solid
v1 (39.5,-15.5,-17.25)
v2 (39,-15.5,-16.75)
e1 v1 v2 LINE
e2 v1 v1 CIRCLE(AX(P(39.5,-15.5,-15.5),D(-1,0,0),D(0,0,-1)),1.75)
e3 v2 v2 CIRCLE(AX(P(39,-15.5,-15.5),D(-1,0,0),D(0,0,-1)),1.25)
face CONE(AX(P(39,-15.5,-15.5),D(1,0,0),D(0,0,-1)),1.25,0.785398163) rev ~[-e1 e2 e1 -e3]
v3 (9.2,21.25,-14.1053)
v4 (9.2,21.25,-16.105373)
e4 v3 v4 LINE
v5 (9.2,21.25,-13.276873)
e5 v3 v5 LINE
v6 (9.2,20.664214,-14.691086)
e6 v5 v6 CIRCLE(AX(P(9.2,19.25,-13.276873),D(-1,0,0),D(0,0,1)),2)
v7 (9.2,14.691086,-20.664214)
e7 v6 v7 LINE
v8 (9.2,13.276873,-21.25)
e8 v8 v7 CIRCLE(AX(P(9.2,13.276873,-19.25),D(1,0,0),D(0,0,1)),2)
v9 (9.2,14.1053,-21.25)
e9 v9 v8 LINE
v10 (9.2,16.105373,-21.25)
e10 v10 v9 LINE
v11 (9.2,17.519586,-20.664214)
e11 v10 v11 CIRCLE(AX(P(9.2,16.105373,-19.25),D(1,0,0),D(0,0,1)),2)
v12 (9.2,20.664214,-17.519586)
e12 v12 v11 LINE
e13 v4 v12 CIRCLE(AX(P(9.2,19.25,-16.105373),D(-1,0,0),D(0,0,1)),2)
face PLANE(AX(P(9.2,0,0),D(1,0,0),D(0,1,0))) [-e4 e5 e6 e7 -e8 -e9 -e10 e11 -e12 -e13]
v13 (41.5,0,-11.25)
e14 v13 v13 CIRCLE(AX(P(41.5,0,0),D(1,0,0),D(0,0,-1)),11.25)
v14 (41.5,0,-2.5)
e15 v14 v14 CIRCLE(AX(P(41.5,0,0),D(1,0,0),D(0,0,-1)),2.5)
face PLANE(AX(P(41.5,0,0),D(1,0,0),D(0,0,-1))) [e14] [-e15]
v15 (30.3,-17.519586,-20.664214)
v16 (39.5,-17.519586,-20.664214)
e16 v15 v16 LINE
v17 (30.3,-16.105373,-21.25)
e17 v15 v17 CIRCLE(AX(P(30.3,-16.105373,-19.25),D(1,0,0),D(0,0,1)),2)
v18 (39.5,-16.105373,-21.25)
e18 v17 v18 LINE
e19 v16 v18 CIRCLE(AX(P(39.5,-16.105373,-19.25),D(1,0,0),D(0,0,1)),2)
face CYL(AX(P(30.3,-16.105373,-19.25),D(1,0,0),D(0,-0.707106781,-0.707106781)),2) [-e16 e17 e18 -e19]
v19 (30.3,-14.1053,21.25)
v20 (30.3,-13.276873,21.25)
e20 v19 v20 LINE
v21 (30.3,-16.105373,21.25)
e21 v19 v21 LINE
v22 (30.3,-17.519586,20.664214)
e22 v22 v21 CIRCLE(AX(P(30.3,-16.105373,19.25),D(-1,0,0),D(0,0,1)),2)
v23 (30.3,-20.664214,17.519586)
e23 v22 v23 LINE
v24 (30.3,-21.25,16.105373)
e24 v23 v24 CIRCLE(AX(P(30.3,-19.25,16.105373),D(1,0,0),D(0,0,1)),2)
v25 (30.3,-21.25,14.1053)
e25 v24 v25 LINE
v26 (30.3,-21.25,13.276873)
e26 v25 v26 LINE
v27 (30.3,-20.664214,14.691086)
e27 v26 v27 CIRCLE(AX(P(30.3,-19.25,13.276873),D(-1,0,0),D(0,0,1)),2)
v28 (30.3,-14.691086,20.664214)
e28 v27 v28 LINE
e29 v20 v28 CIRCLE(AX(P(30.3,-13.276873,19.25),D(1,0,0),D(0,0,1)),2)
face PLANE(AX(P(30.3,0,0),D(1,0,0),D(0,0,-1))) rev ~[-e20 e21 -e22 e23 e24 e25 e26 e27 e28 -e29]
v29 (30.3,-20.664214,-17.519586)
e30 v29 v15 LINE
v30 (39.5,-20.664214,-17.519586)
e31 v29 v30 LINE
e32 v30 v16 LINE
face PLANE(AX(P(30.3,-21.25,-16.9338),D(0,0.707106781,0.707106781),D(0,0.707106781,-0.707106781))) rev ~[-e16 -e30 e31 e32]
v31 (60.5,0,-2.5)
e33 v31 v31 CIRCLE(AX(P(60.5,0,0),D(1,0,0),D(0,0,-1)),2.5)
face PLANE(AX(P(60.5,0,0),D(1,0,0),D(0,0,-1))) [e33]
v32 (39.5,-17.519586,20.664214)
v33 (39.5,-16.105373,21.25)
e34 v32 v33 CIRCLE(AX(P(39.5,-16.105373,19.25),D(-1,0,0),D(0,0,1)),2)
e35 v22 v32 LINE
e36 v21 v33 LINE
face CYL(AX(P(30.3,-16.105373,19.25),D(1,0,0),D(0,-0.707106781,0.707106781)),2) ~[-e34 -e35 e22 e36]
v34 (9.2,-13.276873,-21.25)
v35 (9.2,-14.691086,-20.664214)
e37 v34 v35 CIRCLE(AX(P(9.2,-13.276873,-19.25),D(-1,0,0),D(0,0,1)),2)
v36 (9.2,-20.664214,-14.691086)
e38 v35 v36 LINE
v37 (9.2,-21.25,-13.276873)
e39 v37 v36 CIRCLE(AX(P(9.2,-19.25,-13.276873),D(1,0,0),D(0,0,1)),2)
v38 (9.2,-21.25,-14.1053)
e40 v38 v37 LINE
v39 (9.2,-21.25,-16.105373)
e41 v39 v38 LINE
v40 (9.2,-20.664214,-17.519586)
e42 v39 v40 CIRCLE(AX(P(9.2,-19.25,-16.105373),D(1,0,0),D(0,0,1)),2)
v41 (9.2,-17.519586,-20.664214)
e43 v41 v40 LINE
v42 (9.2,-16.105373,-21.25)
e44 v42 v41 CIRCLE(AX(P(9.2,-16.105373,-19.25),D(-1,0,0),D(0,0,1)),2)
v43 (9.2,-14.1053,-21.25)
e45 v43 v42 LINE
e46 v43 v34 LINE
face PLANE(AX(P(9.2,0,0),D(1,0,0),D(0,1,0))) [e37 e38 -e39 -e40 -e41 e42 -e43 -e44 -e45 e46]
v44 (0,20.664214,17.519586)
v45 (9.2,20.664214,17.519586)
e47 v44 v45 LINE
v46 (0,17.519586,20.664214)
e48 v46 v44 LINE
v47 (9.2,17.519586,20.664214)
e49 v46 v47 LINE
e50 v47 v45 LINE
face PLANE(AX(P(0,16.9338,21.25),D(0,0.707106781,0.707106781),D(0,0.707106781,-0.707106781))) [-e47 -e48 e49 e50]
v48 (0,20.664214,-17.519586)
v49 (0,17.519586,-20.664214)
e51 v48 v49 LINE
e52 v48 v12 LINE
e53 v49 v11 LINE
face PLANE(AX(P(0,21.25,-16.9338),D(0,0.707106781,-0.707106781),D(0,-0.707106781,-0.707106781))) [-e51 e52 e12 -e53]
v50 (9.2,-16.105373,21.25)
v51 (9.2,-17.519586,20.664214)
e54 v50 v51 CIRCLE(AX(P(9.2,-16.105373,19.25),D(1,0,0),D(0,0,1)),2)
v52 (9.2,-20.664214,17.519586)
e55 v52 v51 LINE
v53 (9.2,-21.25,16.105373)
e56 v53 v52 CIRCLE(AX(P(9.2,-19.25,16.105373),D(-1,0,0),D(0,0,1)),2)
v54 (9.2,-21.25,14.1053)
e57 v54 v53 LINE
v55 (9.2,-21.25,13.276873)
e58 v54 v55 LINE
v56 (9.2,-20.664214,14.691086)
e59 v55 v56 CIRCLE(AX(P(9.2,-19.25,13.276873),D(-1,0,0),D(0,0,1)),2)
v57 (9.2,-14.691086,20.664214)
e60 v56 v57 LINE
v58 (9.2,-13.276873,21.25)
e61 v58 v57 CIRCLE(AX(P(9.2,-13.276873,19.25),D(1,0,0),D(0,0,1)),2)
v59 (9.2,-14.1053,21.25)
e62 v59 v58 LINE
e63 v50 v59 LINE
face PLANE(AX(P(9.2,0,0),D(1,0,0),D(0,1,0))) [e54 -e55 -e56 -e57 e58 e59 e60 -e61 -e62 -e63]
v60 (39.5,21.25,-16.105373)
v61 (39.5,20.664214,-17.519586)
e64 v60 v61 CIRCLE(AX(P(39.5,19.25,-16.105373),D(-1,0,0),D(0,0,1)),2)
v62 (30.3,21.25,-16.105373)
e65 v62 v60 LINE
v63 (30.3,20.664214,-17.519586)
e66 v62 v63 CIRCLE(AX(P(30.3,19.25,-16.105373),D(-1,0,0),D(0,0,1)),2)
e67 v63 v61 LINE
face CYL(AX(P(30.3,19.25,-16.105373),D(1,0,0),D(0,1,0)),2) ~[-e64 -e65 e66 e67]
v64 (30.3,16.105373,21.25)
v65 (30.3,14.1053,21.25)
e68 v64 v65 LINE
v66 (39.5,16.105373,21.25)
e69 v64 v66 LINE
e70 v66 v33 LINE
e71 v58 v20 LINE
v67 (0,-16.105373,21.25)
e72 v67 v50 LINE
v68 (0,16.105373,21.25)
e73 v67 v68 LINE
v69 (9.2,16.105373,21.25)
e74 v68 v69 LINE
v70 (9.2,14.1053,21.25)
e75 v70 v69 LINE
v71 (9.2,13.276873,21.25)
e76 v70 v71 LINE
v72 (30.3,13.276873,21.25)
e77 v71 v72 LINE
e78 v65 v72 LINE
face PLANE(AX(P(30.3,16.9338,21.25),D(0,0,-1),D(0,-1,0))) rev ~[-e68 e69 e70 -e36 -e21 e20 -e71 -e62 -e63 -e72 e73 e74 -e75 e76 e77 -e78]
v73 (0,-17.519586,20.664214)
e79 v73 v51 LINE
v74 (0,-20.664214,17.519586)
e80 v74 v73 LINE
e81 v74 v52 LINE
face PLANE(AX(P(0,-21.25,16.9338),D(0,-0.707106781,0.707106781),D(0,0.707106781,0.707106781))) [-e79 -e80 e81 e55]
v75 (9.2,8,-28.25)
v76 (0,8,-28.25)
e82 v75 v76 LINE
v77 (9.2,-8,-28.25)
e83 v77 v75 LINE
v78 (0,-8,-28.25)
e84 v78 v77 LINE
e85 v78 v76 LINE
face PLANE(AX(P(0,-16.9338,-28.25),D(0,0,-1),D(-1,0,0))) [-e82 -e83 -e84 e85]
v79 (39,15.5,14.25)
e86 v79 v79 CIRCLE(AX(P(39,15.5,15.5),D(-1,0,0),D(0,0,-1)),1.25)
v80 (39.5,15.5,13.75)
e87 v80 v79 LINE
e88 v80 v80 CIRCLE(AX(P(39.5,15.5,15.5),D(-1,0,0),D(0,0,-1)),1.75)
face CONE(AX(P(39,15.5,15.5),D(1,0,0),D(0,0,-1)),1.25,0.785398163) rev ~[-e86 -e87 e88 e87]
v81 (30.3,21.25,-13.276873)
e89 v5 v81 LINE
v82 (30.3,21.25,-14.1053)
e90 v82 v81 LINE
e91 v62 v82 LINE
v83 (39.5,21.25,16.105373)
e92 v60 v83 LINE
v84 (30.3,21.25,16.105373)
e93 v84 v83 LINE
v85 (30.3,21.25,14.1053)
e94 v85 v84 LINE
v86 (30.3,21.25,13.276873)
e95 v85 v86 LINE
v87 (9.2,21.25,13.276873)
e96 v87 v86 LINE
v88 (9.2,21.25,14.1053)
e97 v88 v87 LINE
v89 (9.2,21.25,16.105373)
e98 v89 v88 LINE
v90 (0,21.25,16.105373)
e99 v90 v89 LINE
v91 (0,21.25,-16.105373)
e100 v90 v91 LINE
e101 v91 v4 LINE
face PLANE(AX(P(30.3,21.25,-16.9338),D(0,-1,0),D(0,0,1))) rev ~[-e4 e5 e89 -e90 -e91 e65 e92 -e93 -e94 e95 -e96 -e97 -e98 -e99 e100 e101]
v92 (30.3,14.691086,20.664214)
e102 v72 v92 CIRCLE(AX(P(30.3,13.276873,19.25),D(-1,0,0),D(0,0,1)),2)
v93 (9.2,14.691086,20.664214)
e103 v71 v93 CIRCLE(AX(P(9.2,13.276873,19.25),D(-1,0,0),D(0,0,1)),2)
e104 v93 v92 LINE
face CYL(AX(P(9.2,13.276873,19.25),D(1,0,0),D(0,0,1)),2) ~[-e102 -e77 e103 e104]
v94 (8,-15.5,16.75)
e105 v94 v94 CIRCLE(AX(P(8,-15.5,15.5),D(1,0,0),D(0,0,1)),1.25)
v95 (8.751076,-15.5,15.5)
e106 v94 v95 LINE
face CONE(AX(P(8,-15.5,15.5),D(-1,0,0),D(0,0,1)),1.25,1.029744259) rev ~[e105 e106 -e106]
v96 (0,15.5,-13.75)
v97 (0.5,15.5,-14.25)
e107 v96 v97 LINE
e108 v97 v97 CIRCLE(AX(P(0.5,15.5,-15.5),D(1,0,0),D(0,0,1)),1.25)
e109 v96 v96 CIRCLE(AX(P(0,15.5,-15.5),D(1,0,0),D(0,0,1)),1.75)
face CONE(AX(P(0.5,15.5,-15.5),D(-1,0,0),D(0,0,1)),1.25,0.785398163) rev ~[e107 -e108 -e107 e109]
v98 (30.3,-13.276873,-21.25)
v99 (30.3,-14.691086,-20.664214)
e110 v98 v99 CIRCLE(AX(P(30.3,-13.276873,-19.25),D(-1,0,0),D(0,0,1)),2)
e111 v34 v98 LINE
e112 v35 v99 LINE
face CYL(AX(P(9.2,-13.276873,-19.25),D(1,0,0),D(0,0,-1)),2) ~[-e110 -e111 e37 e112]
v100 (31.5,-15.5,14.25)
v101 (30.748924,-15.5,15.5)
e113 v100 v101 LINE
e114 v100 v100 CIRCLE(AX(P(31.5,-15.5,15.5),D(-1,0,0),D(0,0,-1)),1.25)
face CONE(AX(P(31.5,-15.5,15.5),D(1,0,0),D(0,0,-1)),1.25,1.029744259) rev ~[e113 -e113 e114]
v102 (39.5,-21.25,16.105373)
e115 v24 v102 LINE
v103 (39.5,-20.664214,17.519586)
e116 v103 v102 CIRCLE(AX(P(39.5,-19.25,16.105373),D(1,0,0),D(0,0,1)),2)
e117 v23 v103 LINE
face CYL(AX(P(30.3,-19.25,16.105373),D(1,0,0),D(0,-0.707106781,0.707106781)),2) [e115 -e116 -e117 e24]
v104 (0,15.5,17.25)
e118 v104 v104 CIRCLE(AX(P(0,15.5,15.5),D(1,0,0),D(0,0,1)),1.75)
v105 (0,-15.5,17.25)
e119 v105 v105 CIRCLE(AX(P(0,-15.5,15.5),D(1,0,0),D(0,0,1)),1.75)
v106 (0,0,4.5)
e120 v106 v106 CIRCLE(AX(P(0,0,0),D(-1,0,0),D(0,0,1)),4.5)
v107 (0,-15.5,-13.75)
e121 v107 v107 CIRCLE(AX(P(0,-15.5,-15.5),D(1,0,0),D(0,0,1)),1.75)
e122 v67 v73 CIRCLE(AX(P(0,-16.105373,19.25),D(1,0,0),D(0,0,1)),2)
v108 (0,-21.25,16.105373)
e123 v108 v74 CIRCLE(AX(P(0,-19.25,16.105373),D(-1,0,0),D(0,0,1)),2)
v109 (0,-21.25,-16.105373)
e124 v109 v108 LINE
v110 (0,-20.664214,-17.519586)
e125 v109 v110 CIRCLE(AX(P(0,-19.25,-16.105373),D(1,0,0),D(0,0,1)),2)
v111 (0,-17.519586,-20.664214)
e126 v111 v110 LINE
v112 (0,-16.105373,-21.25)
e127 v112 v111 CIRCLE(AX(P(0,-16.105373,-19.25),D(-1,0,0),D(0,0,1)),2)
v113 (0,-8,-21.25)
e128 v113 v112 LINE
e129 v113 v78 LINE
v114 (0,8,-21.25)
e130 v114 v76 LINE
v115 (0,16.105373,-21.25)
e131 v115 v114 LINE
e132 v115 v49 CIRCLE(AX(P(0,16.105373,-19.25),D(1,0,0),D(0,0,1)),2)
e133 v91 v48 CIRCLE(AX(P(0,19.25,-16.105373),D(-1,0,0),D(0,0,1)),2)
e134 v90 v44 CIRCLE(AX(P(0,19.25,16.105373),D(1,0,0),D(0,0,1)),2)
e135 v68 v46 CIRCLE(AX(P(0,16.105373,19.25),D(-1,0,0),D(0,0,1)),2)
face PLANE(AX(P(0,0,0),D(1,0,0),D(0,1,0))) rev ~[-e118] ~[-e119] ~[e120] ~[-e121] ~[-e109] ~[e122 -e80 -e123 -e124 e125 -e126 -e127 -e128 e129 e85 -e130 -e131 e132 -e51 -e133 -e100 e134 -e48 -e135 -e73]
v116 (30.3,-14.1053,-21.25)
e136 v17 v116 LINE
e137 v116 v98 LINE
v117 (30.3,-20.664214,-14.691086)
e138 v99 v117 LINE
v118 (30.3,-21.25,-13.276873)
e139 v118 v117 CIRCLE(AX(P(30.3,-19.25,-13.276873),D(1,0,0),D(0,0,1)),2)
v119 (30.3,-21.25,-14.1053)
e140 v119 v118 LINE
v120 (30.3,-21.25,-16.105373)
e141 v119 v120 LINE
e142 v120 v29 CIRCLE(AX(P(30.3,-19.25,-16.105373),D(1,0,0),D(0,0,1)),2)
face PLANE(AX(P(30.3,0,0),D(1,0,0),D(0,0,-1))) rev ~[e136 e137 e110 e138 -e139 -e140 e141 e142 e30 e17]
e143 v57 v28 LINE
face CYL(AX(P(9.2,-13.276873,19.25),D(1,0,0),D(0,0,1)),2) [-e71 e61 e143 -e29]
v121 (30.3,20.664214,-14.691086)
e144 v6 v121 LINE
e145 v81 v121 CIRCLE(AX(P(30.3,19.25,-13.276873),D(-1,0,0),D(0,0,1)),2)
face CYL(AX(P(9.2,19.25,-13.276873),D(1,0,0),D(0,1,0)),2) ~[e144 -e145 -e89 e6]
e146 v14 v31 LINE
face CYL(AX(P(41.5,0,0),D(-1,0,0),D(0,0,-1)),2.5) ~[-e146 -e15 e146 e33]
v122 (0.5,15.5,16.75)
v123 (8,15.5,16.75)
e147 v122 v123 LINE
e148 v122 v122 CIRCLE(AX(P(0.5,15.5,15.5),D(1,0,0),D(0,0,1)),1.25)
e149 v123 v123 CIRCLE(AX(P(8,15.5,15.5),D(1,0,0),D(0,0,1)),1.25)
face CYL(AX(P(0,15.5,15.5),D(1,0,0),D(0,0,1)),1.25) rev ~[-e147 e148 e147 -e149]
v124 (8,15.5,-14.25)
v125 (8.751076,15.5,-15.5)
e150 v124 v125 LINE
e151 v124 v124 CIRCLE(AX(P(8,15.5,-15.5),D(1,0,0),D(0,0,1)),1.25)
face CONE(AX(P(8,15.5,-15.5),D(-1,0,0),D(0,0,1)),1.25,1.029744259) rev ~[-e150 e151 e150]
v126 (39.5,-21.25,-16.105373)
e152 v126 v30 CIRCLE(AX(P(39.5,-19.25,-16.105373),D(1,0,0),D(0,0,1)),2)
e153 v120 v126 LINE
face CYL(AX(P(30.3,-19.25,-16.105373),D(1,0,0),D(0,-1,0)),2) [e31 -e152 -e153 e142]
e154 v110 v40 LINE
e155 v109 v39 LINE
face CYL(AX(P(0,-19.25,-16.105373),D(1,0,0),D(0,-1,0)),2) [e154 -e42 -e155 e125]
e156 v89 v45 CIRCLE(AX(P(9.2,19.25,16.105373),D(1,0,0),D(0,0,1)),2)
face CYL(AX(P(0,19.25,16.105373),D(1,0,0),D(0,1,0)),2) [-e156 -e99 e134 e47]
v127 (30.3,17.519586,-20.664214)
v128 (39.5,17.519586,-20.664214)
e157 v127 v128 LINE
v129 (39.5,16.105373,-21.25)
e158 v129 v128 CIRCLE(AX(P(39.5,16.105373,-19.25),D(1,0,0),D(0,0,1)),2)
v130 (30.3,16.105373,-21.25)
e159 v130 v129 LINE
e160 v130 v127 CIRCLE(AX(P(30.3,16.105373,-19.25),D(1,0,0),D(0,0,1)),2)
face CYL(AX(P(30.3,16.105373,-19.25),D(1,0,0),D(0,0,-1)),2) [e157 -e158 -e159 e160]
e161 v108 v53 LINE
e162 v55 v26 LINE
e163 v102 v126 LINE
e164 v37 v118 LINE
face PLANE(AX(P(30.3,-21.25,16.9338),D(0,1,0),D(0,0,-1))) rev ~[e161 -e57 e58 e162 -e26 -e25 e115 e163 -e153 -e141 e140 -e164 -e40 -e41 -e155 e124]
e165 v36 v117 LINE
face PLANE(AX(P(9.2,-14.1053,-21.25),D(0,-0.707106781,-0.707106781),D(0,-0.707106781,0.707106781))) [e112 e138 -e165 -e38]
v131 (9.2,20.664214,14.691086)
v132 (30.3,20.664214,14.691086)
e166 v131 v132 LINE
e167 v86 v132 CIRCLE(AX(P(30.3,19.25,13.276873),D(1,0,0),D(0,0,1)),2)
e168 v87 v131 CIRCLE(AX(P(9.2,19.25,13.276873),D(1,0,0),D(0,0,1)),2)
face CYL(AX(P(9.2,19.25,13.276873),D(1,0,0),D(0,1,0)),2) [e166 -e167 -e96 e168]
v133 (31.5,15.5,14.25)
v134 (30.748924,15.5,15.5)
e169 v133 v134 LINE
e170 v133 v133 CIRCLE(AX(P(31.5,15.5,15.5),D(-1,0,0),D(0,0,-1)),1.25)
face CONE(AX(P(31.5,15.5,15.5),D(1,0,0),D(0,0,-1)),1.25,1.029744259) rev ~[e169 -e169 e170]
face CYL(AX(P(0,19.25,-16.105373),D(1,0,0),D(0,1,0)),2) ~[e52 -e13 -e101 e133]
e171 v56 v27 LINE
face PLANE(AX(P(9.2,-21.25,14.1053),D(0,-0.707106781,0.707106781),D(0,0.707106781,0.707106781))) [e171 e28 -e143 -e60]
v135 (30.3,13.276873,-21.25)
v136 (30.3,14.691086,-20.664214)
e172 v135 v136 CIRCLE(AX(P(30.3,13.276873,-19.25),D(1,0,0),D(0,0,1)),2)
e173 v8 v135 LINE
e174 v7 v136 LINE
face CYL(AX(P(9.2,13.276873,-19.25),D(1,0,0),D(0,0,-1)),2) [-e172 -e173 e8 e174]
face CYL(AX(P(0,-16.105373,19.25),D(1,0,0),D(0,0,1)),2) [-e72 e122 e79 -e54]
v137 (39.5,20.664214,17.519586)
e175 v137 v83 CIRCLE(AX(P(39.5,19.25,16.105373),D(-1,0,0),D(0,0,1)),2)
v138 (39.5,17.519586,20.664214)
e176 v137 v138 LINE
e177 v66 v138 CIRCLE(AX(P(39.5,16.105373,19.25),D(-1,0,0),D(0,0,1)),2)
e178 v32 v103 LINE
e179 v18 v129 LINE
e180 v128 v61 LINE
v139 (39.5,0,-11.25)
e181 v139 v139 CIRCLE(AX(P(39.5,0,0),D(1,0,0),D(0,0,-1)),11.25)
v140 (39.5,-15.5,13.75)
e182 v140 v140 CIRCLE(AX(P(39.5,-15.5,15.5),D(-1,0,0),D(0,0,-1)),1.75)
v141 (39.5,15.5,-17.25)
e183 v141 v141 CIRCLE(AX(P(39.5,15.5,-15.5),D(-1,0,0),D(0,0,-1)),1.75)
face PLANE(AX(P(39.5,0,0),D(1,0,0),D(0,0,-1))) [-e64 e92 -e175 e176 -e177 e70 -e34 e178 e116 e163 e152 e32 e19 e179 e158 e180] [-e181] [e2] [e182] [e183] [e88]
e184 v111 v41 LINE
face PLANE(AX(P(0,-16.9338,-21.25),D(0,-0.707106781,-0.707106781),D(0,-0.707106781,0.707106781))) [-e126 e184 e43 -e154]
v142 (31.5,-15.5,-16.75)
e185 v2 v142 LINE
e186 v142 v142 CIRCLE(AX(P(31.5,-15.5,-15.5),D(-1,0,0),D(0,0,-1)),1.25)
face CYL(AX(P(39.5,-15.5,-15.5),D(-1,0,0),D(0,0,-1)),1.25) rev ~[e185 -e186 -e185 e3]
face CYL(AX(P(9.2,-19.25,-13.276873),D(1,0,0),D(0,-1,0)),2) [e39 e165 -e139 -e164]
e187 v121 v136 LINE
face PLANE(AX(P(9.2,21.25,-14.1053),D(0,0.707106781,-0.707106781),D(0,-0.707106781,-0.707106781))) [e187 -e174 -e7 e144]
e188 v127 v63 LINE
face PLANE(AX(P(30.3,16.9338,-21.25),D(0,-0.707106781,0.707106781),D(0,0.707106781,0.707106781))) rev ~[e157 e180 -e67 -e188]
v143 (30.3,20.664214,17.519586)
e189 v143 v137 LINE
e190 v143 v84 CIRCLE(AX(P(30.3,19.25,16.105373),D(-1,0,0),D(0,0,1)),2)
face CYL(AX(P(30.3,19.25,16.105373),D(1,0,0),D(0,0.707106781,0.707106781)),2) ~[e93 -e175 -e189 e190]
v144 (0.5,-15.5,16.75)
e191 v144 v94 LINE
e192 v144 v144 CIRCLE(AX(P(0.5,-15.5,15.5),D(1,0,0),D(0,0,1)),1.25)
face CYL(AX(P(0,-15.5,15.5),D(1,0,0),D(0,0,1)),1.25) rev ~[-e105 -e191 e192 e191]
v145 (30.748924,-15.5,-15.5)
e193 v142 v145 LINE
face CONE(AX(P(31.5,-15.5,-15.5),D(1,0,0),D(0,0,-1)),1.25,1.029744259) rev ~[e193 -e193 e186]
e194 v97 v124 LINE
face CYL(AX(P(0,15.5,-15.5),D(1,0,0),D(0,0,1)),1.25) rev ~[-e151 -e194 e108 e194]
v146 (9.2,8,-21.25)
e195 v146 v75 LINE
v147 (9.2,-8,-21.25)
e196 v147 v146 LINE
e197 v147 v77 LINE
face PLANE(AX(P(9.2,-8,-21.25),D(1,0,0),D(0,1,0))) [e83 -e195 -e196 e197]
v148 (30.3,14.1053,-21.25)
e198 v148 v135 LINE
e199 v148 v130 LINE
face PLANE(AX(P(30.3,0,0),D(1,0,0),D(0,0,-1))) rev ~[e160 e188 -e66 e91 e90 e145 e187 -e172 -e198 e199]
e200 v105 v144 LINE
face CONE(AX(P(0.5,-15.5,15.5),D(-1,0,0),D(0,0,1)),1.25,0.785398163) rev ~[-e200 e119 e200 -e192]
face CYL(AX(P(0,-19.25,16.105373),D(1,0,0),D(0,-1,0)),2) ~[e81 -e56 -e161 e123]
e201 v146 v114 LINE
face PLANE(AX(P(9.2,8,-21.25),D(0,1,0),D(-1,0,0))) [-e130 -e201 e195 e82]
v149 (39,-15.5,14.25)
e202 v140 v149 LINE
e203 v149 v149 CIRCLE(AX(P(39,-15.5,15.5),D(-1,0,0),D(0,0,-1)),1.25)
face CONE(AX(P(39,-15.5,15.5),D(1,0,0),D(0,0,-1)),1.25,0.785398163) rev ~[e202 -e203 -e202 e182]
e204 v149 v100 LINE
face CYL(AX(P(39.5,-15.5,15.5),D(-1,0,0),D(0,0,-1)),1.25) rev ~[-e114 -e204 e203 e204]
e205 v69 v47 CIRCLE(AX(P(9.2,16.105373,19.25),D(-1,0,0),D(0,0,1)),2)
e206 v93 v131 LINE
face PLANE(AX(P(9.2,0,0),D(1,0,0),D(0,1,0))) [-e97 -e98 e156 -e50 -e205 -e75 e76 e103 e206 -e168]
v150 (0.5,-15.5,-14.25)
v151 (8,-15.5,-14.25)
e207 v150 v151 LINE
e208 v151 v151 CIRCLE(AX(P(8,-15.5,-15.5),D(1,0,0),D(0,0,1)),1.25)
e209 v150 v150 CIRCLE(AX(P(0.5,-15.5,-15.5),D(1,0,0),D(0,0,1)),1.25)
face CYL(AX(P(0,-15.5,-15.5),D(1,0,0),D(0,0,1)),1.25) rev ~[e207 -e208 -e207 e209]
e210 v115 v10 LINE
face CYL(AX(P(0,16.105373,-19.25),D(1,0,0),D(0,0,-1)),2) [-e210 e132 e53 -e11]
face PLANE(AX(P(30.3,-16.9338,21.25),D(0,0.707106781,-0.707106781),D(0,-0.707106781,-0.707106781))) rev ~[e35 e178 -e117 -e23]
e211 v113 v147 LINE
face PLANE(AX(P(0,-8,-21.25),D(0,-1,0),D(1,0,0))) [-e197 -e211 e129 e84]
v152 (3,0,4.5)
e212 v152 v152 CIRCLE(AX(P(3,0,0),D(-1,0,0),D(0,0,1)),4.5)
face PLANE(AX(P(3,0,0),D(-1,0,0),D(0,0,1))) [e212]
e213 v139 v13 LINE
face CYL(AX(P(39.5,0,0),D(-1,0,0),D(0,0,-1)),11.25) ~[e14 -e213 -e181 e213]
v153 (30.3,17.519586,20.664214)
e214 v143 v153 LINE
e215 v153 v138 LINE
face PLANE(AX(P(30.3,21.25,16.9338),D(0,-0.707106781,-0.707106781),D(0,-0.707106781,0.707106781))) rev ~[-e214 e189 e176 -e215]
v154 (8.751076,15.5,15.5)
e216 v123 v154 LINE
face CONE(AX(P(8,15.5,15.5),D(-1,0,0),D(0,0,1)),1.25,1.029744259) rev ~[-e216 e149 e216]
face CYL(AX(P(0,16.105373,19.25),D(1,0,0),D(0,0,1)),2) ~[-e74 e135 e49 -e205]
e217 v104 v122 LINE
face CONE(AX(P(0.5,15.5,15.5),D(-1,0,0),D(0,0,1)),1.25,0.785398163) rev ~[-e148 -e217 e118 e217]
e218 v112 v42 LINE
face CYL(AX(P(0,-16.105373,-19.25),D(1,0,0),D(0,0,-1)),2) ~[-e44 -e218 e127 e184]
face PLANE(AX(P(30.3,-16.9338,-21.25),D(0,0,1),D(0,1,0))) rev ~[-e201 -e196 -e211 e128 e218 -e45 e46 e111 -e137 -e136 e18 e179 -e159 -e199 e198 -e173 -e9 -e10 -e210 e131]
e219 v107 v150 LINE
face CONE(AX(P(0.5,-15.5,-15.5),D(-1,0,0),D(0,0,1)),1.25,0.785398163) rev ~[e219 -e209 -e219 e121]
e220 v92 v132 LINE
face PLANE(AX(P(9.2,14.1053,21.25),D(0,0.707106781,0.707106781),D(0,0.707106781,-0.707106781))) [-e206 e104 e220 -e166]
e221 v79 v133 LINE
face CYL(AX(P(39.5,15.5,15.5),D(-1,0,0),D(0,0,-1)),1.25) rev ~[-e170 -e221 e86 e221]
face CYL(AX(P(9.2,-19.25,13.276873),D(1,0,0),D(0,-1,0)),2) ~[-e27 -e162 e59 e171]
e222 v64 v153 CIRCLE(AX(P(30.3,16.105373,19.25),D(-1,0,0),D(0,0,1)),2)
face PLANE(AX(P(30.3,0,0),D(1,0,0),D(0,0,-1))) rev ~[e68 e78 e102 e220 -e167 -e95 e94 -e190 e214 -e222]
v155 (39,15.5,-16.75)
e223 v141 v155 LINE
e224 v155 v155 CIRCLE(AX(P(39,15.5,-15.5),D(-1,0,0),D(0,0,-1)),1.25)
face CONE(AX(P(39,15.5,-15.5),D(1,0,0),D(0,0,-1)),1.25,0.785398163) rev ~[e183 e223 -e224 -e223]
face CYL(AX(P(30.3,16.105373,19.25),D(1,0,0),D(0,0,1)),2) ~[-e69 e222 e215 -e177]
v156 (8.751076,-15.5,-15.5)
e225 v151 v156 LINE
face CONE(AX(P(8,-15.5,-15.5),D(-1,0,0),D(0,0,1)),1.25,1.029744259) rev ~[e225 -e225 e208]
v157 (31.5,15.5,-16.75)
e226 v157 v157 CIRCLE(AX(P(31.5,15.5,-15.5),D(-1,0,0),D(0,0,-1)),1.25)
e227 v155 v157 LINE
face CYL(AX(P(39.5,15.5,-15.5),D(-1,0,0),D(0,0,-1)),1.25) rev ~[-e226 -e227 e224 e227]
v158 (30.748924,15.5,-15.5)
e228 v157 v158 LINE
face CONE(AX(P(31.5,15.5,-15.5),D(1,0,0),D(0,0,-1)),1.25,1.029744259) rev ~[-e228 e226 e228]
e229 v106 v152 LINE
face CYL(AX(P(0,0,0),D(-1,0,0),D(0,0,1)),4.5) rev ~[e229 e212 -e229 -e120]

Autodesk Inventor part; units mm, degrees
ref_plane "YZ Plane" through (0, 0, 0) normal (1, 0, 0) x (0, 1, 0)
ref_plane "XZ Plane" through (0, 0, 0) normal (0, 1, 0) x (-1, 0, 0)
ref_plane "XY Plane" through (0, 0, 0) normal (0, 0, 1) x (1, 0, 0)
sketch "スケッチ1" plane through (0, 0, 0) normal (1, 0, 0) x (0, 1, 0)
  line L0 (-21.25, 21.25) -> (21.25, 21.25)
  line L1 (21.25, 21.25) -> (21.25, -21.25)
  line L2 (21.25, -21.25) -> (-21.25, -21.25)
  line L3 (-21.25, -21.25) -> (-21.25, 21.25)
  line L4 (-21.25, 21.25) -> (21.25, -21.25) construction
  line L5 (21.25, 21.25) -> (-21.25, -21.25) construction
  line L6 (16.9338, 21.25) -> (21.25, 16.9338)
  line L7 (21.25, -16.9338) -> (16.9338, -21.25)
  line L8 (-16.9338, -21.25) -> (-21.25, -16.9338)
  line L9 (-21.25, 16.9338) -> (-15.808, 22.3758)
  point P0 (0, 0)
  point P1 (0, 0)
  point P2 (0, 0)
  point P3 (-16.9338, 21.25)
  dimension "d0" = 42.5
  dimension "d1" = 42.5
  dimension "d2" = 27
  dimension "d3" = 27
  dimension "d4" = 27
  dimension "d5" = 27
extrude "押し出し1" add sketch "スケッチ1" along normal blind 9.2 contours L6 L1 L7 L2 L8 L3 L9 L0
sketch "スケッチ2" plane through (9.2, 0, 0) normal (1, 0, 0) x (0, 0, -1)
  line L0 (16.9338, 21.25) -> (-16.9338, 21.25) projected
  line L1 (-21.25, 16.9338) -> (-21.25, -16.9338) projected
  line L2 (-16.9338, -21.25) -> (16.9338, -21.25) projected
  line L3 (21.25, -16.9338) -> (21.25, 16.9338) projected
  line L4 (-21.25, 14.1053) -> (-14.1053, 21.25)
  line L5 (14.1053, 21.25) -> (21.25, 14.1053)
  line L6 (21.25, -14.1053) -> (14.1053, -21.25)
  line L7 (-14.1053, -21.25) -> (-21.25, -14.1053)
  point P0 (0, 0)
  dimension "d8" = 25
  dimension "d9" = 25
  dimension "d10" = 25
  dimension "d11" = 25
  dimension "d12" = 135
extrude "押し出し2" add sketch "スケッチ2" along normal blind 21.1
sketch "スケッチ3" plane through (30.3, 0, 0) normal (1, 0, 0) x (0, 0, -1)
  line L0 (-16.9338, -21.25) -> (16.9338, -21.25) projected
  line L1 (-21.25, -16.9338) -> (-16.9338, -21.25) projected
  line L2 (-21.25, 16.9338) -> (-21.25, -16.9338) projected
  line L3 (-16.9338, 21.25) -> (-21.25, 16.9338) projected
  line L4 (16.9338, 21.25) -> (-16.9338, 21.25) projected
  line L5 (21.25, 16.9338) -> (16.9338, 21.25) projected
  line L6 (21.25, -16.9338) -> (21.25, 16.9338) projected
  line L7 (16.9338, -21.25) -> (21.25, -16.9338) projected
  point P0 (0, 0)
extrude "押し出し3" add sketch "スケッチ3" along normal blind 9.2
sketch "スケッチ4" plane through (0, 0, 0) normal (-1, 0, 0) x (0, 0, 1)
  line L0 (15.5, 15.5) -> (-15.5, 15.5) construction
  line L1 (-15.5, 15.5) -> (-15.5, -15.5) construction
  line L2 (-15.5, -15.5) -> (15.5, -15.5) construction
  line L3 (15.5, -15.5) -> (15.5, 15.5) construction
  line L4 (15.5, 15.5) -> (-15.5, -15.5) construction
  line L5 (-15.5, 15.5) -> (15.5, -15.5) construction
  point P0 (0, 0)
  dimension "d17" = 31
  dimension "d18" = 31
hole "穴1" at (0, 15.5, -15.5) at (0, -15.5, -15.5) at (0, -15.5, 15.5) at (0, 15.5, 15.5) direction (1, 0, 0) diameter 2.5 depth 8 tip angle 118
chamfer "面取り1" distance 0.5 angle 45 4 edges at (0, -15.5, -16.75) (0, 15.5, -16.75) (0, -15.5, 14.25) (0, 15.5, 14.25)
thread "ねじ1" size "M3x0.5" class "6H" standard "ISO Metric profile" full length
thread "ねじ3" size "M3x0.5" class "6H" standard "ISO Metric profile" full length
thread "ねじ4" size "M3x0.5" class "6H" standard "ISO Metric profile" full length
thread "ねじ5" size "M3x0.5" class "6H" standard "ISO Metric profile" full length
sketch "スケッチ5" plane through (39.5, 0, 0) normal (1, 0, 0) x (0, 0, -1)
  line L0 (-15.5, -15.5) -> (15.5, -15.5) construction
  line L1 (15.5, -15.5) -> (15.5, 15.5) construction
  line L2 (15.5, 15.5) -> (-15.5, 15.5) construction
  line L3 (-15.5, 15.5) -> (-15.5, -15.5) construction
  line L4 (-15.5, -15.5) -> (15.5, 15.5) construction
  line L5 (15.5, -15.5) -> (-15.5, 15.5) construction
  point P0 (0, 0)
  dimension "d31" = 31
  dimension "d32" = 31
hole "穴2" at (39.5, -15.5, 15.5) at (39.5, -15.5, -15.5) at (39.5, 15.5, -15.5) at (39.5, 15.5, 15.5) direction (-1, 0, 0) diameter 2.5 depth 8 tip angle 118
chamfer "面取り2" distance 0.5 angle 45 4 edges at (39.5, -15.5, 16.75) (39.5, -15.5, -14.25) (39.5, 15.5, 16.75) (39.5, 15.5, -14.25)
thread "ねじ2" size "M3x0.5" class "6H" standard "ISO Metric profile" full length
thread "ねじ6" size "M3x0.5" class "6H" standard "ISO Metric profile" full length
thread "ねじ7" size "M2.6x0.45" class "6H" standard "ISO Metric profile" full length
thread "ねじ8" size "M3x0.5" class "6H" standard "ISO Metric profile" full length
sketch "スケッチ6" plane through (39.5, 0, 0) normal (1, 0, 0) x (0, 0, -1)
  circle A0 centre (0, 0) radius 11.25
  dimension "d57" = 22.5
extrude "押し出し4" add sketch "スケッチ6" along normal blind 2
sketch "スケッチ7" plane through (41.5, 0, 0) normal (1, 0, 0) x (0, 0, -1)
  circle A0 centre (0, 0) radius 2.5
  dimension "d60" = 5
extrude "押し出し5" add sketch "スケッチ7" along normal blind 19
sketch "スケッチ8" plane through (0, 0, 0) normal (-1, 0, 0) x (0, 0, 1)
  circle A0 centre (0, 0) radius 4.5
  dimension "d63" = 9
extrude "押し出し6" cut sketch "スケッチ8" against normal blind 3
sketch "スケッチ14" plane through (0, -16.9338, -21.25) normal (0, 0, -1) x (-1, 0, 0)
  line L0 (0, 0) -> (0, 33.8675) projected
  line L1 (-9.2, 0) -> (-9.2, 2.8284) projected
  line L2 (0, 8.9338) -> (-9.2, 8.9338)
  line L3 (-9.2, 8.9338) -> (-9.2, 24.9338)
  line L4 (-9.2, 24.9338) -> (0, 24.9338)
  line L5 (0, 24.9338) -> (0, 8.9338)
  point P0 (0, 16.9338)
  point P1 (-9.2, 16.9338)
  point P2 (0, 16.9338)
  point P3 (0, 16.9338)
  point P4 (0, 16.9338)
  point P5 (0, 24.9338)
  dimension "d97" = 16
extrude "押し出し10" add sketch "スケッチ14" along normal blind 7
fillet "フィレット1" radius 2 24 edges at (34.9, -16.9338, -21.25) (34.9, -21.25, -16.9338) (19.75, -14.1053, -21.25) (19.75, -21.25, -14.1053) (4.6, -16.9338, -21.25) (4.6, -21.25, -16.9338) (19.75, 14.1053, -21.25) (19.75, 21.25, -14.1053) (4.6, 21.25, -16.9338) (4.6, 16.9338, -21.25) (34.9, 16.9338, -21.25) (34.9, 21.25, -16.9338) (4.6, 21.25, 16.9338) (4.6, 16.9338, 21.25) (19.75, 14.1053, 21.25) (19.75, 21.25, 14.1053) (34.9, 21.25, 16.9338) (34.9, 16.9338, 21.25) (19.75, -14.1053, 21.25) (4.6, -16.9338, 21.25) (4.6, -21.25, 16.9338) (19.75, -21.25, 14.1053) (34.9, -16.9338, 21.25) (34.9, -21.25, 16.9338)
equation "\"d3\" = d2"
equation "\"d4\" = d2"
equation "\"d5\" = d2"
equation "\"d9\" = d8"
equation "\"d10\" = d9"
equation "\"d11\" = d8"
properties part number "stepper_motor"
